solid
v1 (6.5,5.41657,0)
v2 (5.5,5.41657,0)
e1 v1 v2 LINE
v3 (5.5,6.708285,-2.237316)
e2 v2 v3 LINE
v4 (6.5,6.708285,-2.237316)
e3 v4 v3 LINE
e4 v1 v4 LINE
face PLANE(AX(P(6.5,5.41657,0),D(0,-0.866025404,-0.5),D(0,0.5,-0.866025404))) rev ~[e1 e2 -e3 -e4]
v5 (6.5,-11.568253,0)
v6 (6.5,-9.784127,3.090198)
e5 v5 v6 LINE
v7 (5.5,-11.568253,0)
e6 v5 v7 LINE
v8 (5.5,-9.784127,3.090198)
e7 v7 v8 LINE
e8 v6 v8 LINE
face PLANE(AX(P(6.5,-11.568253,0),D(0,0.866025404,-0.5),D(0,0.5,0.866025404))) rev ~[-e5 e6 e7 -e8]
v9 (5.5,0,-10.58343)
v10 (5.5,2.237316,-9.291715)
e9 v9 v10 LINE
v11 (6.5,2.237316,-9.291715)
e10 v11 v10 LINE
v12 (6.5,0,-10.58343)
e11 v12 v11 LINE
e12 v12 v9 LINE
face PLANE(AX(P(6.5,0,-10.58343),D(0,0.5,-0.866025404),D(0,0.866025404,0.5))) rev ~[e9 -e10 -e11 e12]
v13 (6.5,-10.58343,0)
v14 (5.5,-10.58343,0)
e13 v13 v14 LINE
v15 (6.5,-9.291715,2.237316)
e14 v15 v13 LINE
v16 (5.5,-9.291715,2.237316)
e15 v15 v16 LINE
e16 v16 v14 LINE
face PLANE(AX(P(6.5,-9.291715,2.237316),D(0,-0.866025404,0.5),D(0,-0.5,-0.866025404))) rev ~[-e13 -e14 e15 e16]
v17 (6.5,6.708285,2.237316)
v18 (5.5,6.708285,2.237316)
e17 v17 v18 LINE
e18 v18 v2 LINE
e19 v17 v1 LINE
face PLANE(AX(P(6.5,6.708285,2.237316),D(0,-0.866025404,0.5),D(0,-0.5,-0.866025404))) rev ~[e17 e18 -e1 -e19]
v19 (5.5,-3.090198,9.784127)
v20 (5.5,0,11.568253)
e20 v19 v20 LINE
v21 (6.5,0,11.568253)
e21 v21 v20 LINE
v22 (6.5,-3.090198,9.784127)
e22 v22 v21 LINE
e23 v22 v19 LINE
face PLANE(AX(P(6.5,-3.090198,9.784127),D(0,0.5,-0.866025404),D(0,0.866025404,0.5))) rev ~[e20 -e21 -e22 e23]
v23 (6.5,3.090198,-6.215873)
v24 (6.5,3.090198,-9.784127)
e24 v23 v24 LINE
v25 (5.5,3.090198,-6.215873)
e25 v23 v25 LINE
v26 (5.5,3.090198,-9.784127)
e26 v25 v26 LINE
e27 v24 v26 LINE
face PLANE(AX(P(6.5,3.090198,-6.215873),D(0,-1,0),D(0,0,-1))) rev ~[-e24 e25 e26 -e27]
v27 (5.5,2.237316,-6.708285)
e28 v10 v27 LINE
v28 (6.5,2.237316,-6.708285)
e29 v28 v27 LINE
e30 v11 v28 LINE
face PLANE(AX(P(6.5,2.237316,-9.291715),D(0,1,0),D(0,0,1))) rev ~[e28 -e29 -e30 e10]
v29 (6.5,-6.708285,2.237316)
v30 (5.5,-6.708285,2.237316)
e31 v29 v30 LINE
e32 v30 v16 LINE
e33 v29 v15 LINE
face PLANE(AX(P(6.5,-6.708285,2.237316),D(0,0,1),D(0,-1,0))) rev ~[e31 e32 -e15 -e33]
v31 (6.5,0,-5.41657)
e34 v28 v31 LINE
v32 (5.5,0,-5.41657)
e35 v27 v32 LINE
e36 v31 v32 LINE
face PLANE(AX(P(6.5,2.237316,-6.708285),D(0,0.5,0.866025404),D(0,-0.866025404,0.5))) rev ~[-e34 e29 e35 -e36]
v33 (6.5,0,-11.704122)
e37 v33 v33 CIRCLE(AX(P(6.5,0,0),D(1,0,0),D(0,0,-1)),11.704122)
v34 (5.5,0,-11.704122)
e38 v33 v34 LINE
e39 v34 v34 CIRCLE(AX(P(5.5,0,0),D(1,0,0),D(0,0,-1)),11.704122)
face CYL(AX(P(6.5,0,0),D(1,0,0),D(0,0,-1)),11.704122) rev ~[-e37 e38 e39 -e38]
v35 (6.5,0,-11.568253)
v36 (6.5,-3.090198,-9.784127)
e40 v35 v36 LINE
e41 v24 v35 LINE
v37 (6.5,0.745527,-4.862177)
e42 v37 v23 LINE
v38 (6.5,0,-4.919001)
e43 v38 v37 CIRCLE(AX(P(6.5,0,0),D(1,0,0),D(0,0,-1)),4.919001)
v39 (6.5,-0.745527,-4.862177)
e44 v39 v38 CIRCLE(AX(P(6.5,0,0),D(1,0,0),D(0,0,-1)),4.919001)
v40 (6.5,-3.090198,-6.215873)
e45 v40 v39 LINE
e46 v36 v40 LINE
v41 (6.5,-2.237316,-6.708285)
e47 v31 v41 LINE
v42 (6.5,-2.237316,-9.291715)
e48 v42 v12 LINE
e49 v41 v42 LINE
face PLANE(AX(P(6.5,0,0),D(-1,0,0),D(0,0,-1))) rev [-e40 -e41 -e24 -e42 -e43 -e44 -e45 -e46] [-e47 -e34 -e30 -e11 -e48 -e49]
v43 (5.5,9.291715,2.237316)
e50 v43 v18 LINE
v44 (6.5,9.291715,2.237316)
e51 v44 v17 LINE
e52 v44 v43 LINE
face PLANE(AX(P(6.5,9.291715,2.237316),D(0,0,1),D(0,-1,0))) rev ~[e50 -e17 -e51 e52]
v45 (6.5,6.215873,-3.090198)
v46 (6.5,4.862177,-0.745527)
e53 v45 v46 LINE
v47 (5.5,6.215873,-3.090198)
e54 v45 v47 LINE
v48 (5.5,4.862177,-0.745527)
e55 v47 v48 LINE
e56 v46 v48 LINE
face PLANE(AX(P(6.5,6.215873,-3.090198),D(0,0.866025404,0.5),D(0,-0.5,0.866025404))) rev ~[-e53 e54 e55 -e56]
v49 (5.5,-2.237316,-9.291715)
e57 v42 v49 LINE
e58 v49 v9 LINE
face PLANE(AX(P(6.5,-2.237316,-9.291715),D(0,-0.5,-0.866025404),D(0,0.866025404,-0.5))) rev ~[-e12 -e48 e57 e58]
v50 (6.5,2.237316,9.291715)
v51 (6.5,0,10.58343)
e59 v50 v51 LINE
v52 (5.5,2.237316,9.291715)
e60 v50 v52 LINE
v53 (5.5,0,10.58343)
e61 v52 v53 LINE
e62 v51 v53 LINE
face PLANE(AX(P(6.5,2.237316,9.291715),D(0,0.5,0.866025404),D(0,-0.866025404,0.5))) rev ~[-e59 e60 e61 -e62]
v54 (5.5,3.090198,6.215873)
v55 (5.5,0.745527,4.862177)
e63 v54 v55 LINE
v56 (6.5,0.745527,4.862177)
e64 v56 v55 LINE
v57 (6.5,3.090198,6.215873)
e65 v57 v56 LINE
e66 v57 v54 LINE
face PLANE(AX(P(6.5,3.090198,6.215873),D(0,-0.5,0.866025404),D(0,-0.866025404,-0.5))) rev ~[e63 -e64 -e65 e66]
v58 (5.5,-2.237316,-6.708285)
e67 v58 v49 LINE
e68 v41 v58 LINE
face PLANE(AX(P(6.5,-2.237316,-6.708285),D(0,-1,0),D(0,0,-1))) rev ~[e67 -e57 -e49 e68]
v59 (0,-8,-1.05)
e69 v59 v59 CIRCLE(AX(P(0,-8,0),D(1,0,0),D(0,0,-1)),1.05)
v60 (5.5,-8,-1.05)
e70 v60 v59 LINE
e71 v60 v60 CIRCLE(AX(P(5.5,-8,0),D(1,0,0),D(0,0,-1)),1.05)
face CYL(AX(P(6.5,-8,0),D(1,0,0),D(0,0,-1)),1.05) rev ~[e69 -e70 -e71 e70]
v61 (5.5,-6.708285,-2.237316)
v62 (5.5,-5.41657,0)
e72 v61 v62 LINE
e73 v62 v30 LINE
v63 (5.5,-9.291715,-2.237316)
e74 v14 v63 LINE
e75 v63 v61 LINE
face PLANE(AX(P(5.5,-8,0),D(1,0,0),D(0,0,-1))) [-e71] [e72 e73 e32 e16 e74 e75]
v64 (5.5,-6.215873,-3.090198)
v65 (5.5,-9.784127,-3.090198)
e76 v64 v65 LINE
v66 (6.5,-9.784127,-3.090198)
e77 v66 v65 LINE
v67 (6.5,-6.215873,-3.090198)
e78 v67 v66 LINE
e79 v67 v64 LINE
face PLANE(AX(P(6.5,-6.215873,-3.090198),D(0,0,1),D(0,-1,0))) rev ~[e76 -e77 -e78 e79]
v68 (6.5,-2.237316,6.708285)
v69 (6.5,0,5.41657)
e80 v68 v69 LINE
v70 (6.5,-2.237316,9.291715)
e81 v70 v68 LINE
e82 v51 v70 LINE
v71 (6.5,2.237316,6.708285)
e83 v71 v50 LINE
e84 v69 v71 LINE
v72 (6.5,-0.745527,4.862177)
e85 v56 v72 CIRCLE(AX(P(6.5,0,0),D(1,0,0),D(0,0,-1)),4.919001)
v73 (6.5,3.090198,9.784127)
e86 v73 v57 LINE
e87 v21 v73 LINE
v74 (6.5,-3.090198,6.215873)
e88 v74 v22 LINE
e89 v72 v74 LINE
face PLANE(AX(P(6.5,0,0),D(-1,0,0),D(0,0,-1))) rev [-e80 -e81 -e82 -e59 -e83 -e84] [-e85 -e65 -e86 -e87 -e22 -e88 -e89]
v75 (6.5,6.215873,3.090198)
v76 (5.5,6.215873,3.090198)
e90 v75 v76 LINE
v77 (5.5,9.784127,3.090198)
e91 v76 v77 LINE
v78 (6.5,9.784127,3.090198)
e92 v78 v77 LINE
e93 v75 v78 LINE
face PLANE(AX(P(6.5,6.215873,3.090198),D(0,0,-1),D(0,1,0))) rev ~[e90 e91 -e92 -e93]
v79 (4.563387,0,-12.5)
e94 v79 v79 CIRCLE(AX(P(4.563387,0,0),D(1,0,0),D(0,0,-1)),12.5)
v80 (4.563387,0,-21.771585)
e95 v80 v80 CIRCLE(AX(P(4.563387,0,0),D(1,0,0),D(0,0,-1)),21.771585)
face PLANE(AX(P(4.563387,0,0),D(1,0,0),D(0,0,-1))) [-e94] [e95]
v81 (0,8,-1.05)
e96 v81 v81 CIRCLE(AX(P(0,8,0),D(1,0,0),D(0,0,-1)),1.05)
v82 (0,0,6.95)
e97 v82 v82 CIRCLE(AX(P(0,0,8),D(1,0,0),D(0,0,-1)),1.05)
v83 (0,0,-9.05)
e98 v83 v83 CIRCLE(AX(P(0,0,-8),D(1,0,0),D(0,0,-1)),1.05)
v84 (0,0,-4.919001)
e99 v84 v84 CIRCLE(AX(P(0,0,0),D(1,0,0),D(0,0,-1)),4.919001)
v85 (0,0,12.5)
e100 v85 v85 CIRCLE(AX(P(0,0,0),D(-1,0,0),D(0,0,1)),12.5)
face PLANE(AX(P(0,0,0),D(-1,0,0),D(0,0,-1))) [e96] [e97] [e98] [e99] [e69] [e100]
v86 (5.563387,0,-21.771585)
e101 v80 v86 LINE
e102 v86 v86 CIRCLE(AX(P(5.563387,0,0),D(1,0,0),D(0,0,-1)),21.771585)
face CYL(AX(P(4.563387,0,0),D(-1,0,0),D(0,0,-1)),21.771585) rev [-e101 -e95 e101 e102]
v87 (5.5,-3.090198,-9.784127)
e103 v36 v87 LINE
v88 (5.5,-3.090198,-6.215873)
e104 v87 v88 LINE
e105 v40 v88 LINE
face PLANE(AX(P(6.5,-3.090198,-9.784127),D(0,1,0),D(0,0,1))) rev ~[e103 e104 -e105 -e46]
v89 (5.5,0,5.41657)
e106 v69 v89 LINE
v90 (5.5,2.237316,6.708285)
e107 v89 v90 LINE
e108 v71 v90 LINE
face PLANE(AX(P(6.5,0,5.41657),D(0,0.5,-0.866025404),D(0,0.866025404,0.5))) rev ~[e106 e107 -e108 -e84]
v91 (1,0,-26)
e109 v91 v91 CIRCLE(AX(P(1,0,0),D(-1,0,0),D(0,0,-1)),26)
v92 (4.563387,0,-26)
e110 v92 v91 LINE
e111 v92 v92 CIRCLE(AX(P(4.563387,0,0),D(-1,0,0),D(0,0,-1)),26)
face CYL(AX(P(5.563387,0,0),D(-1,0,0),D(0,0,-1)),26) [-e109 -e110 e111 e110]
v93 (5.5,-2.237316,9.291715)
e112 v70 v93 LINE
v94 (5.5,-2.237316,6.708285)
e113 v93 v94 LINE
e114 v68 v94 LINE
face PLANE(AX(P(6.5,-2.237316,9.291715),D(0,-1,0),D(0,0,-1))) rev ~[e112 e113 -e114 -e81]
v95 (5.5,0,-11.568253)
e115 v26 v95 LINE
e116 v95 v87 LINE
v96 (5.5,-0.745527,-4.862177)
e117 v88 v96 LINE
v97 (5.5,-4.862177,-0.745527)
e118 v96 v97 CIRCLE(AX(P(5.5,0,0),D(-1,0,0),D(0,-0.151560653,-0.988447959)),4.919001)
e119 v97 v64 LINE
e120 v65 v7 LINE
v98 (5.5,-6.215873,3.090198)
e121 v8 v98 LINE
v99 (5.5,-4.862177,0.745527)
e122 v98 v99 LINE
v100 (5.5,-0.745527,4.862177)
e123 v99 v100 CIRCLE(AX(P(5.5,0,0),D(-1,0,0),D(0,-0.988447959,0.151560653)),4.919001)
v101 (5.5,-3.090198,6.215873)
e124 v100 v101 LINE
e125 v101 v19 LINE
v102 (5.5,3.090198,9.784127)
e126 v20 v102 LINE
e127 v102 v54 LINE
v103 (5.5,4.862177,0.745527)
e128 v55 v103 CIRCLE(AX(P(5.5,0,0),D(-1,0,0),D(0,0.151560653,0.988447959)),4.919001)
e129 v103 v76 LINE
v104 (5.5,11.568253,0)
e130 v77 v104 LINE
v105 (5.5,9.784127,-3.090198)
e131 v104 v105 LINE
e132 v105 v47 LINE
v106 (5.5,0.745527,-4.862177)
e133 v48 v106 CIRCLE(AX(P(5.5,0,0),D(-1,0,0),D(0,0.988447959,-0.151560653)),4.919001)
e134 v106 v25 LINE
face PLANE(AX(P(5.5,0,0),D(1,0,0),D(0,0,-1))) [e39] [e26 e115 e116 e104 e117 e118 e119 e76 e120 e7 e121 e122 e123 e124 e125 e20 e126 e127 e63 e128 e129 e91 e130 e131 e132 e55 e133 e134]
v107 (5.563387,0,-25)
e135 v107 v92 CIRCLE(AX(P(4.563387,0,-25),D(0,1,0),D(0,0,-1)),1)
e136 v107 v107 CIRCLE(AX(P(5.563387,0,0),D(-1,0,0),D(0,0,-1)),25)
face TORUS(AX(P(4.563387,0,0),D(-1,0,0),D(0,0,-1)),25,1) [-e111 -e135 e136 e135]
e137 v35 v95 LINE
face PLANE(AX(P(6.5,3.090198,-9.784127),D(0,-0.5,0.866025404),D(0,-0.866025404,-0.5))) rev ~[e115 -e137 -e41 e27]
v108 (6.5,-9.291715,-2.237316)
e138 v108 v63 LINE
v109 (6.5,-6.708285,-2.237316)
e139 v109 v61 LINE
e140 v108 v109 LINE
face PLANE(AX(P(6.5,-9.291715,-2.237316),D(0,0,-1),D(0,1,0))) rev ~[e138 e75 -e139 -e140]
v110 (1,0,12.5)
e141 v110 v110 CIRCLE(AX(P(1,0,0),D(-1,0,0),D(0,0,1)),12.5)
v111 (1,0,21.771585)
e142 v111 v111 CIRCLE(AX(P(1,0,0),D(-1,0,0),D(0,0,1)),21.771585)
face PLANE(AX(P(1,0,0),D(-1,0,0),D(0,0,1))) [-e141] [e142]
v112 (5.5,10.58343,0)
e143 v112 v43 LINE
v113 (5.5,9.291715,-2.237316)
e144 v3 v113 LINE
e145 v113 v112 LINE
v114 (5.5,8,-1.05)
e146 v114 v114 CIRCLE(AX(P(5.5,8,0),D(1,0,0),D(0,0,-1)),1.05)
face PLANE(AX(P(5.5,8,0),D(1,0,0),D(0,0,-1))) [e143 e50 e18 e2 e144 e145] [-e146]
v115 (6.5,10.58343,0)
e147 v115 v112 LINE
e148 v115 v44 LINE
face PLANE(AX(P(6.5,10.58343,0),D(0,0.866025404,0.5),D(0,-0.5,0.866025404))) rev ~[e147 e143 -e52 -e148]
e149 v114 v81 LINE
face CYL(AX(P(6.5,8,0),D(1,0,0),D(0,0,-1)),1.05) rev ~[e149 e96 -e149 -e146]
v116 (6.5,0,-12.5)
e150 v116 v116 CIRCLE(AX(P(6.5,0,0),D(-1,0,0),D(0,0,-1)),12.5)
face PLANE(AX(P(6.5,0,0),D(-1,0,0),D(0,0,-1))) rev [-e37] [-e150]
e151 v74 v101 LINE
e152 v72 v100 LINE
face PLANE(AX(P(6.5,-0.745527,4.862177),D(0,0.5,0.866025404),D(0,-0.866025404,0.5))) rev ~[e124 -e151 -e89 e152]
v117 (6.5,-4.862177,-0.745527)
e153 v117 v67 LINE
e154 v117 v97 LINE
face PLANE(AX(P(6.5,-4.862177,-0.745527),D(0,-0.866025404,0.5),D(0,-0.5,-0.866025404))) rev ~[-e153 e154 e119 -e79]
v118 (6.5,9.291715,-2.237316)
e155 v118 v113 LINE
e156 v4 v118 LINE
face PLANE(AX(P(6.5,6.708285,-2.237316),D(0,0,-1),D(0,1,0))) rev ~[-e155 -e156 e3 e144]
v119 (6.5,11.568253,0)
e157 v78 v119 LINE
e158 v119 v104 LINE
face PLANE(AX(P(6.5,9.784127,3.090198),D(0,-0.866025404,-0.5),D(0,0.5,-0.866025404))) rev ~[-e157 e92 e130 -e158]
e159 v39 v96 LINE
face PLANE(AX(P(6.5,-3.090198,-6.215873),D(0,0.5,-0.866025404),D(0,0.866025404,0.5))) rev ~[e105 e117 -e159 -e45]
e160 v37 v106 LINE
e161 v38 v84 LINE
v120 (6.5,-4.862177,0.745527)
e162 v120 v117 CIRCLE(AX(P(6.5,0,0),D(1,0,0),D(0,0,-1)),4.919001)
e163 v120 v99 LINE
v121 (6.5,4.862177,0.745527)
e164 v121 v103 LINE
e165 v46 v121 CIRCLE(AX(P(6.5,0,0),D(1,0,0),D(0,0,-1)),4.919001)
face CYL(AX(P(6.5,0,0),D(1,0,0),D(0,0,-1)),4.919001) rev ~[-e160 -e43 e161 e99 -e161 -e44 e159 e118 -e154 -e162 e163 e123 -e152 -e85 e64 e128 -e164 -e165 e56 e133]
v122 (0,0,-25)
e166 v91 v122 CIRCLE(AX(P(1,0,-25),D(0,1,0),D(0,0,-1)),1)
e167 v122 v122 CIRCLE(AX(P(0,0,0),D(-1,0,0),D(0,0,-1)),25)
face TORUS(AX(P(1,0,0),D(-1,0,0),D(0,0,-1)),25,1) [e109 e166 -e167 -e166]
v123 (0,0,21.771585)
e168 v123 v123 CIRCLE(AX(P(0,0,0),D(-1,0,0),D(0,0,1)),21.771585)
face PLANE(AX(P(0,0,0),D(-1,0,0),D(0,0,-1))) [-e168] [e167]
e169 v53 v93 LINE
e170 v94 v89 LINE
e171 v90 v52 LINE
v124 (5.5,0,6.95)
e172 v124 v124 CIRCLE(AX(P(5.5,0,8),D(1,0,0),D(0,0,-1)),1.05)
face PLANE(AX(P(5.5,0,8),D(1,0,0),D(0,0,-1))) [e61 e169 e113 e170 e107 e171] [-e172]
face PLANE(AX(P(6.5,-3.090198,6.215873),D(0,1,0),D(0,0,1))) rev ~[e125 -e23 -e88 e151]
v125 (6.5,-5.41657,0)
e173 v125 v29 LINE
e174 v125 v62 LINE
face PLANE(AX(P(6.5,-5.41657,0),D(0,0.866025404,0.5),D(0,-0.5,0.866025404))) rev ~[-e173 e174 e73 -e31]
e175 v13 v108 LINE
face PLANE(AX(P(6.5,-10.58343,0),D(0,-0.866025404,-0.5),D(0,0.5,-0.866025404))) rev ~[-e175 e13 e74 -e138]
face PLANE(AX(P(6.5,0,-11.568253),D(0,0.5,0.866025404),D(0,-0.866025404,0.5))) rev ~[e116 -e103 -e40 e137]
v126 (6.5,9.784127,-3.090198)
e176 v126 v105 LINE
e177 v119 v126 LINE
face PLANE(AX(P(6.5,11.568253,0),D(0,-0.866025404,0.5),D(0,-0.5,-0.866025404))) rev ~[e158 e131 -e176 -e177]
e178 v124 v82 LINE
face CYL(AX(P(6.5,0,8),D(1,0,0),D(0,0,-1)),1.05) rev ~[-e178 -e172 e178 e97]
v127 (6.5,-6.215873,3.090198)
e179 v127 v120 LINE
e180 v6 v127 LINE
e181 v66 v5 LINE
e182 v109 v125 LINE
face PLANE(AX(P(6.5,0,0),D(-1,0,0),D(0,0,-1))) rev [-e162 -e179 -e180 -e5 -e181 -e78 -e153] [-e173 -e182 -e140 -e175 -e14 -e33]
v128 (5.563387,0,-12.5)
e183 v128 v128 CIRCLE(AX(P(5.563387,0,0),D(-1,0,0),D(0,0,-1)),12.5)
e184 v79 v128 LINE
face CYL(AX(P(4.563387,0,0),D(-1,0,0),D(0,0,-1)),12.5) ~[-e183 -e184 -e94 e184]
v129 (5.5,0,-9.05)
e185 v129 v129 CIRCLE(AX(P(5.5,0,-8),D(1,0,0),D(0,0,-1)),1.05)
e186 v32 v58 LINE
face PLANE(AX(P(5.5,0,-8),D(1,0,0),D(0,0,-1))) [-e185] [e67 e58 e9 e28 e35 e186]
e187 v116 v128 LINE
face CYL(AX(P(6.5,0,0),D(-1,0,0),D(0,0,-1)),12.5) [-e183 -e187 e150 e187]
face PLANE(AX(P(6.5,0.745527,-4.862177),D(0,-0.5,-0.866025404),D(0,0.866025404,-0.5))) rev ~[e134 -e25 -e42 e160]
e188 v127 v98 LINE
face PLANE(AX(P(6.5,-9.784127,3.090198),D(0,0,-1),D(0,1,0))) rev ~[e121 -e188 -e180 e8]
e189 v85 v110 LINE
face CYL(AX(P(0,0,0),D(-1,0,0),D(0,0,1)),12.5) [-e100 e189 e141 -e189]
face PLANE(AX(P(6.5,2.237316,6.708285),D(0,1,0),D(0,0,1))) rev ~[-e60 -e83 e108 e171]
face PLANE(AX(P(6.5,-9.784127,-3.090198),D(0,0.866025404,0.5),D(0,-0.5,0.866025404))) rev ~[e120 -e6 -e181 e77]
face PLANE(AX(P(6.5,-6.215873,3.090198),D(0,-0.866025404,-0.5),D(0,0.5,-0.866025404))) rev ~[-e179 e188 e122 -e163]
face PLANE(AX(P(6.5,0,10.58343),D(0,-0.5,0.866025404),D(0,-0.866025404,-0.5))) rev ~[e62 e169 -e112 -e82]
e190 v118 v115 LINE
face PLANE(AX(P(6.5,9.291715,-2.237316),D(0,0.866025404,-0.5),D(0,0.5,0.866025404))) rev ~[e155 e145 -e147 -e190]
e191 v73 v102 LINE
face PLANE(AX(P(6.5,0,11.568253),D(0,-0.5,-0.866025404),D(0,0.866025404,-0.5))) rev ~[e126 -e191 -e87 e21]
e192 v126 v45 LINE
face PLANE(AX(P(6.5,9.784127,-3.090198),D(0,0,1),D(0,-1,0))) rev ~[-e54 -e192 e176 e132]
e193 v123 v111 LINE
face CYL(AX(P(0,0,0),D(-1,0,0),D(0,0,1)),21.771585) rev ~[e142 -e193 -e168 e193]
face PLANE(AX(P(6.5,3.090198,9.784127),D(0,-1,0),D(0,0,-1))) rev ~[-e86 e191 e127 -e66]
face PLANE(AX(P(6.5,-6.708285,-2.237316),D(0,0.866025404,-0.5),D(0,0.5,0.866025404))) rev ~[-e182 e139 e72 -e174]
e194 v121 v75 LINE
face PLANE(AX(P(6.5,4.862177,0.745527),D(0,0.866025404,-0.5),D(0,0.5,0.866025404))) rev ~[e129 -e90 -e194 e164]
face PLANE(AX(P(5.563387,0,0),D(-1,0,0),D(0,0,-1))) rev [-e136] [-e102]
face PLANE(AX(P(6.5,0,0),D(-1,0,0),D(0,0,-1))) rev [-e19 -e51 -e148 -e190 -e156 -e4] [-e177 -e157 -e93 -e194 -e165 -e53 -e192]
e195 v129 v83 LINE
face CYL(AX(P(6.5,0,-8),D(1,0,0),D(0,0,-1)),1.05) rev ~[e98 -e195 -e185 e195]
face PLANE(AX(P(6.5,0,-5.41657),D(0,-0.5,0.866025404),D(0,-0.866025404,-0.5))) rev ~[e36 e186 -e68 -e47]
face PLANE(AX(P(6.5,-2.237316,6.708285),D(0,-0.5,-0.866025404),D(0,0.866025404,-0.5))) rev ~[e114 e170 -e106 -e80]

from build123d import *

# Parameters (mm, degrees)
FILLET1_R          = 1
SKETCH2_R          = 11.704122172
SKETCH2_R_2        = 1.05
CUT_EXTRUDE1_DEPTH = 1
SKETCH2_3_R        = 4.91900138
SKETCH2_3_R_2      = 1.05
CUT_EXTRUDE2_DEPTH = 38.339657272
SKETCH3_R          = 21.771584826
SKETCH3_R_2        = 12.5
CUT_EXTRUDE3_DEPTH = 1
CUT_EXTRUDE4_START = -1
SKETCH4_R          = 21.771584826
SKETCH4_R_2        = 12.5
CUT_EXTRUDE4_DEPTH = 1


with BuildPart() as part:
    # Sketch1 → Revolve1 (revolve)
    with BuildSketch(Plane(origin=(0, 0, 0), x_dir=(1, 0, 0), z_dir=(0, 1, 0))):
        Polygon((0, 0), (6.5, 0), (6.5, 12.5), (5.563387429, 12.5), (5.563387429, 26), (0, 26), align=None)
    revolve(axis=Axis((6.5, 0, 0), (-1, 0, 0)))

    # Fillet1
    fillet1_edges = [part.edges().sort_by_distance(p)[0] for p in [
        (0, 0, 26),
        (5.563387429, 0, 26),
    ]]
    fillet(fillet1_edges, radius=FILLET1_R)

    # Sketch2 → Cut-Extrude1 (cut)
    # profile 1 of 5: a face of its own
    with BuildSketch(Plane(origin=(6.5, 0, 0), x_dir=(0, 0, -1), z_dir=(1, 0, 0))):
        Circle(SKETCH2_R)
        with BuildLine():
            Line((6.215873313, -3.090198068), (4.862176877, -0.745527062))
            ThreePointArc((4.862176877, -0.745527062), (3.478259233, -3.478259233), (0.745527062, -4.862176877))
            Line((0.745527062, -4.862176877), (3.090198068, -6.215873313))
            Line((3.090198068, -6.215873313), (3.090198068, -9.784126687))
            Line((3.090198068, -9.784126687), (0, -11.568253373))
            Line((0, -11.568253373), (-3.090198068, -9.784126687))
            Line((-3.090198068, -9.784126687), (-3.090198068, -6.215873313))
            Line((-3.090198068, -6.215873313), (-0.745527062, -4.862176877))
            ThreePointArc((-0.745527062, -4.862176877), (-3.478259233, -3.478259233), (-4.862176877, -0.745527062))
            Line((-4.862176877, -0.745527062), (-6.215873313, -3.090198068))
            Line((-6.215873313, -3.090198068), (-9.784126687, -3.090198068))
            Line((-9.784126687, -3.090198068), (-11.568253373, 0))
            Line((-11.568253373, 0), (-9.784126687, 3.090198068))
            Line((-9.784126687, 3.090198068), (-6.215873313, 3.090198068))
            Line((-6.215873313, 3.090198068), (-4.862176877, 0.745527062))
            ThreePointArc((-4.862176877, 0.745527062), (-3.478259233, 3.478259233), (-0.745527062, 4.862176877))
            Line((-0.745527062, 4.862176877), (-3.090198068, 6.215873313))
            Line((-3.090198068, 6.215873313), (-3.090198068, 9.784126687))
            Line((-3.090198068, 9.784126687), (0, 11.568253373))
            Line((0, 11.568253373), (3.090198068, 9.784126687))
            Line((3.090198068, 9.784126687), (3.090198068, 6.215873313))
            Line((3.090198068, 6.215873313), (0.745527062, 4.862176877))
            ThreePointArc((0.745527062, 4.862176877), (3.478259233, 3.478259233), (4.862176877, 0.745527062))
            Line((4.862176877, 0.745527062), (6.215873313, 3.090198068))
            Line((6.215873313, 3.090198068), (9.784126687, 3.090198068))
            Line((9.784126687, 3.090198068), (11.568253373, 0))
            Line((11.568253373, 0), (9.784126687, -3.090198068))
            Line((9.784126687, -3.090198068), (6.215873313, -3.090198068))
        make_face(mode=Mode.SUBTRACT)
    # profile 2 of 5: a face of its own
    with BuildSketch(Plane(origin=(6.5, 0, 0), x_dir=(0, 0, -1), z_dir=(1, 0, 0))):
        Polygon((-2.237316109, 6.708284942), (0, 5.416569884), (2.237316109, 6.708284942), (2.237316109, 9.291715058), (0, 10.583430116), (-2.237316109, 9.291715058), align=None)
        with Locations((0, 8)):
            Circle(SKETCH2_R_2, mode=Mode.SUBTRACT)
    # profile 3 of 5: a face of its own
    with BuildSketch(Plane(origin=(6.5, 0, 0), x_dir=(0, 0, -1), z_dir=(1, 0, 0))):
        Polygon((-6.708284942, -2.237316109), (-5.416569884, 0), (-6.708284942, 2.237316109), (-9.291715058, 2.237316109), (-10.583430116, 0), (-9.291715058, -2.237316109), align=None)
        with Locations((-8, 0)):
            Circle(SKETCH2_R_2, mode=Mode.SUBTRACT)
    # profile 4 of 5: a face of its own
    with BuildSketch(Plane(origin=(6.5, 0, 0), x_dir=(0, 0, -1), z_dir=(1, 0, 0))):
        Polygon((6.708284942, 2.237316109), (5.416569884, 0), (6.708284942, -2.237316109), (9.291715058, -2.237316109), (10.583430116, 0), (9.291715058, 2.237316109), align=None)
        with Locations((8, 0)):
            Circle(SKETCH2_R_2, mode=Mode.SUBTRACT)
    # profile 5 of 5: a face of its own
    with BuildSketch(Plane(origin=(6.5, 0, 0), x_dir=(0, 0, -1), z_dir=(1, 0, 0))):
        Polygon((2.237316109, -6.708284942), (0, -5.416569884), (-2.237316109, -6.708284942), (-2.237316109, -9.291715058), (0, -10.583430116), (2.237316109, -9.291715058), align=None)
        with Locations((0, -8)):
            Circle(SKETCH2_R_2, mode=Mode.SUBTRACT)
    extrude(amount=-CUT_EXTRUDE1_DEPTH, mode=Mode.SUBTRACT)

    # Sketch2<3> → Cut-Extrude2 (cut, through all)
    with BuildSketch(Plane(origin=(6.5, 0, 0), x_dir=(0, 0, -1), z_dir=(1, 0, 0))):
        Circle(SKETCH2_3_R)
        with Locations((8, 0)):
            Circle(SKETCH2_3_R_2)
        with Locations((0, -8)):
            Circle(SKETCH2_3_R_2)
        with Locations((-8, 0)):
            Circle(SKETCH2_3_R_2)
        with Locations((0, 8)):
            Circle(SKETCH2_3_R_2)
    extrude(amount=-CUT_EXTRUDE2_DEPTH, mode=Mode.SUBTRACT)

    # Sketch3 → Cut-Extrude3 (cut)
    with BuildSketch(Plane.ZY):
        Circle(SKETCH3_R)
        Circle(SKETCH3_R_2, mode=Mode.SUBTRACT)
    extrude(amount=-CUT_EXTRUDE3_DEPTH, mode=Mode.SUBTRACT)

    # Sketch4 → Cut-Extrude4 (cut)
    with BuildSketch(Plane(origin=(5.563387429, 0, 0), x_dir=(0, 0, -1), z_dir=(1, 0, 0)).offset(CUT_EXTRUDE4_START)):
        Circle(SKETCH4_R)
        Circle(SKETCH4_R_2, mode=Mode.SUBTRACT)
    extrude(amount=CUT_EXTRUDE4_DEPTH, mode=Mode.SUBTRACT)


solid = part.part
